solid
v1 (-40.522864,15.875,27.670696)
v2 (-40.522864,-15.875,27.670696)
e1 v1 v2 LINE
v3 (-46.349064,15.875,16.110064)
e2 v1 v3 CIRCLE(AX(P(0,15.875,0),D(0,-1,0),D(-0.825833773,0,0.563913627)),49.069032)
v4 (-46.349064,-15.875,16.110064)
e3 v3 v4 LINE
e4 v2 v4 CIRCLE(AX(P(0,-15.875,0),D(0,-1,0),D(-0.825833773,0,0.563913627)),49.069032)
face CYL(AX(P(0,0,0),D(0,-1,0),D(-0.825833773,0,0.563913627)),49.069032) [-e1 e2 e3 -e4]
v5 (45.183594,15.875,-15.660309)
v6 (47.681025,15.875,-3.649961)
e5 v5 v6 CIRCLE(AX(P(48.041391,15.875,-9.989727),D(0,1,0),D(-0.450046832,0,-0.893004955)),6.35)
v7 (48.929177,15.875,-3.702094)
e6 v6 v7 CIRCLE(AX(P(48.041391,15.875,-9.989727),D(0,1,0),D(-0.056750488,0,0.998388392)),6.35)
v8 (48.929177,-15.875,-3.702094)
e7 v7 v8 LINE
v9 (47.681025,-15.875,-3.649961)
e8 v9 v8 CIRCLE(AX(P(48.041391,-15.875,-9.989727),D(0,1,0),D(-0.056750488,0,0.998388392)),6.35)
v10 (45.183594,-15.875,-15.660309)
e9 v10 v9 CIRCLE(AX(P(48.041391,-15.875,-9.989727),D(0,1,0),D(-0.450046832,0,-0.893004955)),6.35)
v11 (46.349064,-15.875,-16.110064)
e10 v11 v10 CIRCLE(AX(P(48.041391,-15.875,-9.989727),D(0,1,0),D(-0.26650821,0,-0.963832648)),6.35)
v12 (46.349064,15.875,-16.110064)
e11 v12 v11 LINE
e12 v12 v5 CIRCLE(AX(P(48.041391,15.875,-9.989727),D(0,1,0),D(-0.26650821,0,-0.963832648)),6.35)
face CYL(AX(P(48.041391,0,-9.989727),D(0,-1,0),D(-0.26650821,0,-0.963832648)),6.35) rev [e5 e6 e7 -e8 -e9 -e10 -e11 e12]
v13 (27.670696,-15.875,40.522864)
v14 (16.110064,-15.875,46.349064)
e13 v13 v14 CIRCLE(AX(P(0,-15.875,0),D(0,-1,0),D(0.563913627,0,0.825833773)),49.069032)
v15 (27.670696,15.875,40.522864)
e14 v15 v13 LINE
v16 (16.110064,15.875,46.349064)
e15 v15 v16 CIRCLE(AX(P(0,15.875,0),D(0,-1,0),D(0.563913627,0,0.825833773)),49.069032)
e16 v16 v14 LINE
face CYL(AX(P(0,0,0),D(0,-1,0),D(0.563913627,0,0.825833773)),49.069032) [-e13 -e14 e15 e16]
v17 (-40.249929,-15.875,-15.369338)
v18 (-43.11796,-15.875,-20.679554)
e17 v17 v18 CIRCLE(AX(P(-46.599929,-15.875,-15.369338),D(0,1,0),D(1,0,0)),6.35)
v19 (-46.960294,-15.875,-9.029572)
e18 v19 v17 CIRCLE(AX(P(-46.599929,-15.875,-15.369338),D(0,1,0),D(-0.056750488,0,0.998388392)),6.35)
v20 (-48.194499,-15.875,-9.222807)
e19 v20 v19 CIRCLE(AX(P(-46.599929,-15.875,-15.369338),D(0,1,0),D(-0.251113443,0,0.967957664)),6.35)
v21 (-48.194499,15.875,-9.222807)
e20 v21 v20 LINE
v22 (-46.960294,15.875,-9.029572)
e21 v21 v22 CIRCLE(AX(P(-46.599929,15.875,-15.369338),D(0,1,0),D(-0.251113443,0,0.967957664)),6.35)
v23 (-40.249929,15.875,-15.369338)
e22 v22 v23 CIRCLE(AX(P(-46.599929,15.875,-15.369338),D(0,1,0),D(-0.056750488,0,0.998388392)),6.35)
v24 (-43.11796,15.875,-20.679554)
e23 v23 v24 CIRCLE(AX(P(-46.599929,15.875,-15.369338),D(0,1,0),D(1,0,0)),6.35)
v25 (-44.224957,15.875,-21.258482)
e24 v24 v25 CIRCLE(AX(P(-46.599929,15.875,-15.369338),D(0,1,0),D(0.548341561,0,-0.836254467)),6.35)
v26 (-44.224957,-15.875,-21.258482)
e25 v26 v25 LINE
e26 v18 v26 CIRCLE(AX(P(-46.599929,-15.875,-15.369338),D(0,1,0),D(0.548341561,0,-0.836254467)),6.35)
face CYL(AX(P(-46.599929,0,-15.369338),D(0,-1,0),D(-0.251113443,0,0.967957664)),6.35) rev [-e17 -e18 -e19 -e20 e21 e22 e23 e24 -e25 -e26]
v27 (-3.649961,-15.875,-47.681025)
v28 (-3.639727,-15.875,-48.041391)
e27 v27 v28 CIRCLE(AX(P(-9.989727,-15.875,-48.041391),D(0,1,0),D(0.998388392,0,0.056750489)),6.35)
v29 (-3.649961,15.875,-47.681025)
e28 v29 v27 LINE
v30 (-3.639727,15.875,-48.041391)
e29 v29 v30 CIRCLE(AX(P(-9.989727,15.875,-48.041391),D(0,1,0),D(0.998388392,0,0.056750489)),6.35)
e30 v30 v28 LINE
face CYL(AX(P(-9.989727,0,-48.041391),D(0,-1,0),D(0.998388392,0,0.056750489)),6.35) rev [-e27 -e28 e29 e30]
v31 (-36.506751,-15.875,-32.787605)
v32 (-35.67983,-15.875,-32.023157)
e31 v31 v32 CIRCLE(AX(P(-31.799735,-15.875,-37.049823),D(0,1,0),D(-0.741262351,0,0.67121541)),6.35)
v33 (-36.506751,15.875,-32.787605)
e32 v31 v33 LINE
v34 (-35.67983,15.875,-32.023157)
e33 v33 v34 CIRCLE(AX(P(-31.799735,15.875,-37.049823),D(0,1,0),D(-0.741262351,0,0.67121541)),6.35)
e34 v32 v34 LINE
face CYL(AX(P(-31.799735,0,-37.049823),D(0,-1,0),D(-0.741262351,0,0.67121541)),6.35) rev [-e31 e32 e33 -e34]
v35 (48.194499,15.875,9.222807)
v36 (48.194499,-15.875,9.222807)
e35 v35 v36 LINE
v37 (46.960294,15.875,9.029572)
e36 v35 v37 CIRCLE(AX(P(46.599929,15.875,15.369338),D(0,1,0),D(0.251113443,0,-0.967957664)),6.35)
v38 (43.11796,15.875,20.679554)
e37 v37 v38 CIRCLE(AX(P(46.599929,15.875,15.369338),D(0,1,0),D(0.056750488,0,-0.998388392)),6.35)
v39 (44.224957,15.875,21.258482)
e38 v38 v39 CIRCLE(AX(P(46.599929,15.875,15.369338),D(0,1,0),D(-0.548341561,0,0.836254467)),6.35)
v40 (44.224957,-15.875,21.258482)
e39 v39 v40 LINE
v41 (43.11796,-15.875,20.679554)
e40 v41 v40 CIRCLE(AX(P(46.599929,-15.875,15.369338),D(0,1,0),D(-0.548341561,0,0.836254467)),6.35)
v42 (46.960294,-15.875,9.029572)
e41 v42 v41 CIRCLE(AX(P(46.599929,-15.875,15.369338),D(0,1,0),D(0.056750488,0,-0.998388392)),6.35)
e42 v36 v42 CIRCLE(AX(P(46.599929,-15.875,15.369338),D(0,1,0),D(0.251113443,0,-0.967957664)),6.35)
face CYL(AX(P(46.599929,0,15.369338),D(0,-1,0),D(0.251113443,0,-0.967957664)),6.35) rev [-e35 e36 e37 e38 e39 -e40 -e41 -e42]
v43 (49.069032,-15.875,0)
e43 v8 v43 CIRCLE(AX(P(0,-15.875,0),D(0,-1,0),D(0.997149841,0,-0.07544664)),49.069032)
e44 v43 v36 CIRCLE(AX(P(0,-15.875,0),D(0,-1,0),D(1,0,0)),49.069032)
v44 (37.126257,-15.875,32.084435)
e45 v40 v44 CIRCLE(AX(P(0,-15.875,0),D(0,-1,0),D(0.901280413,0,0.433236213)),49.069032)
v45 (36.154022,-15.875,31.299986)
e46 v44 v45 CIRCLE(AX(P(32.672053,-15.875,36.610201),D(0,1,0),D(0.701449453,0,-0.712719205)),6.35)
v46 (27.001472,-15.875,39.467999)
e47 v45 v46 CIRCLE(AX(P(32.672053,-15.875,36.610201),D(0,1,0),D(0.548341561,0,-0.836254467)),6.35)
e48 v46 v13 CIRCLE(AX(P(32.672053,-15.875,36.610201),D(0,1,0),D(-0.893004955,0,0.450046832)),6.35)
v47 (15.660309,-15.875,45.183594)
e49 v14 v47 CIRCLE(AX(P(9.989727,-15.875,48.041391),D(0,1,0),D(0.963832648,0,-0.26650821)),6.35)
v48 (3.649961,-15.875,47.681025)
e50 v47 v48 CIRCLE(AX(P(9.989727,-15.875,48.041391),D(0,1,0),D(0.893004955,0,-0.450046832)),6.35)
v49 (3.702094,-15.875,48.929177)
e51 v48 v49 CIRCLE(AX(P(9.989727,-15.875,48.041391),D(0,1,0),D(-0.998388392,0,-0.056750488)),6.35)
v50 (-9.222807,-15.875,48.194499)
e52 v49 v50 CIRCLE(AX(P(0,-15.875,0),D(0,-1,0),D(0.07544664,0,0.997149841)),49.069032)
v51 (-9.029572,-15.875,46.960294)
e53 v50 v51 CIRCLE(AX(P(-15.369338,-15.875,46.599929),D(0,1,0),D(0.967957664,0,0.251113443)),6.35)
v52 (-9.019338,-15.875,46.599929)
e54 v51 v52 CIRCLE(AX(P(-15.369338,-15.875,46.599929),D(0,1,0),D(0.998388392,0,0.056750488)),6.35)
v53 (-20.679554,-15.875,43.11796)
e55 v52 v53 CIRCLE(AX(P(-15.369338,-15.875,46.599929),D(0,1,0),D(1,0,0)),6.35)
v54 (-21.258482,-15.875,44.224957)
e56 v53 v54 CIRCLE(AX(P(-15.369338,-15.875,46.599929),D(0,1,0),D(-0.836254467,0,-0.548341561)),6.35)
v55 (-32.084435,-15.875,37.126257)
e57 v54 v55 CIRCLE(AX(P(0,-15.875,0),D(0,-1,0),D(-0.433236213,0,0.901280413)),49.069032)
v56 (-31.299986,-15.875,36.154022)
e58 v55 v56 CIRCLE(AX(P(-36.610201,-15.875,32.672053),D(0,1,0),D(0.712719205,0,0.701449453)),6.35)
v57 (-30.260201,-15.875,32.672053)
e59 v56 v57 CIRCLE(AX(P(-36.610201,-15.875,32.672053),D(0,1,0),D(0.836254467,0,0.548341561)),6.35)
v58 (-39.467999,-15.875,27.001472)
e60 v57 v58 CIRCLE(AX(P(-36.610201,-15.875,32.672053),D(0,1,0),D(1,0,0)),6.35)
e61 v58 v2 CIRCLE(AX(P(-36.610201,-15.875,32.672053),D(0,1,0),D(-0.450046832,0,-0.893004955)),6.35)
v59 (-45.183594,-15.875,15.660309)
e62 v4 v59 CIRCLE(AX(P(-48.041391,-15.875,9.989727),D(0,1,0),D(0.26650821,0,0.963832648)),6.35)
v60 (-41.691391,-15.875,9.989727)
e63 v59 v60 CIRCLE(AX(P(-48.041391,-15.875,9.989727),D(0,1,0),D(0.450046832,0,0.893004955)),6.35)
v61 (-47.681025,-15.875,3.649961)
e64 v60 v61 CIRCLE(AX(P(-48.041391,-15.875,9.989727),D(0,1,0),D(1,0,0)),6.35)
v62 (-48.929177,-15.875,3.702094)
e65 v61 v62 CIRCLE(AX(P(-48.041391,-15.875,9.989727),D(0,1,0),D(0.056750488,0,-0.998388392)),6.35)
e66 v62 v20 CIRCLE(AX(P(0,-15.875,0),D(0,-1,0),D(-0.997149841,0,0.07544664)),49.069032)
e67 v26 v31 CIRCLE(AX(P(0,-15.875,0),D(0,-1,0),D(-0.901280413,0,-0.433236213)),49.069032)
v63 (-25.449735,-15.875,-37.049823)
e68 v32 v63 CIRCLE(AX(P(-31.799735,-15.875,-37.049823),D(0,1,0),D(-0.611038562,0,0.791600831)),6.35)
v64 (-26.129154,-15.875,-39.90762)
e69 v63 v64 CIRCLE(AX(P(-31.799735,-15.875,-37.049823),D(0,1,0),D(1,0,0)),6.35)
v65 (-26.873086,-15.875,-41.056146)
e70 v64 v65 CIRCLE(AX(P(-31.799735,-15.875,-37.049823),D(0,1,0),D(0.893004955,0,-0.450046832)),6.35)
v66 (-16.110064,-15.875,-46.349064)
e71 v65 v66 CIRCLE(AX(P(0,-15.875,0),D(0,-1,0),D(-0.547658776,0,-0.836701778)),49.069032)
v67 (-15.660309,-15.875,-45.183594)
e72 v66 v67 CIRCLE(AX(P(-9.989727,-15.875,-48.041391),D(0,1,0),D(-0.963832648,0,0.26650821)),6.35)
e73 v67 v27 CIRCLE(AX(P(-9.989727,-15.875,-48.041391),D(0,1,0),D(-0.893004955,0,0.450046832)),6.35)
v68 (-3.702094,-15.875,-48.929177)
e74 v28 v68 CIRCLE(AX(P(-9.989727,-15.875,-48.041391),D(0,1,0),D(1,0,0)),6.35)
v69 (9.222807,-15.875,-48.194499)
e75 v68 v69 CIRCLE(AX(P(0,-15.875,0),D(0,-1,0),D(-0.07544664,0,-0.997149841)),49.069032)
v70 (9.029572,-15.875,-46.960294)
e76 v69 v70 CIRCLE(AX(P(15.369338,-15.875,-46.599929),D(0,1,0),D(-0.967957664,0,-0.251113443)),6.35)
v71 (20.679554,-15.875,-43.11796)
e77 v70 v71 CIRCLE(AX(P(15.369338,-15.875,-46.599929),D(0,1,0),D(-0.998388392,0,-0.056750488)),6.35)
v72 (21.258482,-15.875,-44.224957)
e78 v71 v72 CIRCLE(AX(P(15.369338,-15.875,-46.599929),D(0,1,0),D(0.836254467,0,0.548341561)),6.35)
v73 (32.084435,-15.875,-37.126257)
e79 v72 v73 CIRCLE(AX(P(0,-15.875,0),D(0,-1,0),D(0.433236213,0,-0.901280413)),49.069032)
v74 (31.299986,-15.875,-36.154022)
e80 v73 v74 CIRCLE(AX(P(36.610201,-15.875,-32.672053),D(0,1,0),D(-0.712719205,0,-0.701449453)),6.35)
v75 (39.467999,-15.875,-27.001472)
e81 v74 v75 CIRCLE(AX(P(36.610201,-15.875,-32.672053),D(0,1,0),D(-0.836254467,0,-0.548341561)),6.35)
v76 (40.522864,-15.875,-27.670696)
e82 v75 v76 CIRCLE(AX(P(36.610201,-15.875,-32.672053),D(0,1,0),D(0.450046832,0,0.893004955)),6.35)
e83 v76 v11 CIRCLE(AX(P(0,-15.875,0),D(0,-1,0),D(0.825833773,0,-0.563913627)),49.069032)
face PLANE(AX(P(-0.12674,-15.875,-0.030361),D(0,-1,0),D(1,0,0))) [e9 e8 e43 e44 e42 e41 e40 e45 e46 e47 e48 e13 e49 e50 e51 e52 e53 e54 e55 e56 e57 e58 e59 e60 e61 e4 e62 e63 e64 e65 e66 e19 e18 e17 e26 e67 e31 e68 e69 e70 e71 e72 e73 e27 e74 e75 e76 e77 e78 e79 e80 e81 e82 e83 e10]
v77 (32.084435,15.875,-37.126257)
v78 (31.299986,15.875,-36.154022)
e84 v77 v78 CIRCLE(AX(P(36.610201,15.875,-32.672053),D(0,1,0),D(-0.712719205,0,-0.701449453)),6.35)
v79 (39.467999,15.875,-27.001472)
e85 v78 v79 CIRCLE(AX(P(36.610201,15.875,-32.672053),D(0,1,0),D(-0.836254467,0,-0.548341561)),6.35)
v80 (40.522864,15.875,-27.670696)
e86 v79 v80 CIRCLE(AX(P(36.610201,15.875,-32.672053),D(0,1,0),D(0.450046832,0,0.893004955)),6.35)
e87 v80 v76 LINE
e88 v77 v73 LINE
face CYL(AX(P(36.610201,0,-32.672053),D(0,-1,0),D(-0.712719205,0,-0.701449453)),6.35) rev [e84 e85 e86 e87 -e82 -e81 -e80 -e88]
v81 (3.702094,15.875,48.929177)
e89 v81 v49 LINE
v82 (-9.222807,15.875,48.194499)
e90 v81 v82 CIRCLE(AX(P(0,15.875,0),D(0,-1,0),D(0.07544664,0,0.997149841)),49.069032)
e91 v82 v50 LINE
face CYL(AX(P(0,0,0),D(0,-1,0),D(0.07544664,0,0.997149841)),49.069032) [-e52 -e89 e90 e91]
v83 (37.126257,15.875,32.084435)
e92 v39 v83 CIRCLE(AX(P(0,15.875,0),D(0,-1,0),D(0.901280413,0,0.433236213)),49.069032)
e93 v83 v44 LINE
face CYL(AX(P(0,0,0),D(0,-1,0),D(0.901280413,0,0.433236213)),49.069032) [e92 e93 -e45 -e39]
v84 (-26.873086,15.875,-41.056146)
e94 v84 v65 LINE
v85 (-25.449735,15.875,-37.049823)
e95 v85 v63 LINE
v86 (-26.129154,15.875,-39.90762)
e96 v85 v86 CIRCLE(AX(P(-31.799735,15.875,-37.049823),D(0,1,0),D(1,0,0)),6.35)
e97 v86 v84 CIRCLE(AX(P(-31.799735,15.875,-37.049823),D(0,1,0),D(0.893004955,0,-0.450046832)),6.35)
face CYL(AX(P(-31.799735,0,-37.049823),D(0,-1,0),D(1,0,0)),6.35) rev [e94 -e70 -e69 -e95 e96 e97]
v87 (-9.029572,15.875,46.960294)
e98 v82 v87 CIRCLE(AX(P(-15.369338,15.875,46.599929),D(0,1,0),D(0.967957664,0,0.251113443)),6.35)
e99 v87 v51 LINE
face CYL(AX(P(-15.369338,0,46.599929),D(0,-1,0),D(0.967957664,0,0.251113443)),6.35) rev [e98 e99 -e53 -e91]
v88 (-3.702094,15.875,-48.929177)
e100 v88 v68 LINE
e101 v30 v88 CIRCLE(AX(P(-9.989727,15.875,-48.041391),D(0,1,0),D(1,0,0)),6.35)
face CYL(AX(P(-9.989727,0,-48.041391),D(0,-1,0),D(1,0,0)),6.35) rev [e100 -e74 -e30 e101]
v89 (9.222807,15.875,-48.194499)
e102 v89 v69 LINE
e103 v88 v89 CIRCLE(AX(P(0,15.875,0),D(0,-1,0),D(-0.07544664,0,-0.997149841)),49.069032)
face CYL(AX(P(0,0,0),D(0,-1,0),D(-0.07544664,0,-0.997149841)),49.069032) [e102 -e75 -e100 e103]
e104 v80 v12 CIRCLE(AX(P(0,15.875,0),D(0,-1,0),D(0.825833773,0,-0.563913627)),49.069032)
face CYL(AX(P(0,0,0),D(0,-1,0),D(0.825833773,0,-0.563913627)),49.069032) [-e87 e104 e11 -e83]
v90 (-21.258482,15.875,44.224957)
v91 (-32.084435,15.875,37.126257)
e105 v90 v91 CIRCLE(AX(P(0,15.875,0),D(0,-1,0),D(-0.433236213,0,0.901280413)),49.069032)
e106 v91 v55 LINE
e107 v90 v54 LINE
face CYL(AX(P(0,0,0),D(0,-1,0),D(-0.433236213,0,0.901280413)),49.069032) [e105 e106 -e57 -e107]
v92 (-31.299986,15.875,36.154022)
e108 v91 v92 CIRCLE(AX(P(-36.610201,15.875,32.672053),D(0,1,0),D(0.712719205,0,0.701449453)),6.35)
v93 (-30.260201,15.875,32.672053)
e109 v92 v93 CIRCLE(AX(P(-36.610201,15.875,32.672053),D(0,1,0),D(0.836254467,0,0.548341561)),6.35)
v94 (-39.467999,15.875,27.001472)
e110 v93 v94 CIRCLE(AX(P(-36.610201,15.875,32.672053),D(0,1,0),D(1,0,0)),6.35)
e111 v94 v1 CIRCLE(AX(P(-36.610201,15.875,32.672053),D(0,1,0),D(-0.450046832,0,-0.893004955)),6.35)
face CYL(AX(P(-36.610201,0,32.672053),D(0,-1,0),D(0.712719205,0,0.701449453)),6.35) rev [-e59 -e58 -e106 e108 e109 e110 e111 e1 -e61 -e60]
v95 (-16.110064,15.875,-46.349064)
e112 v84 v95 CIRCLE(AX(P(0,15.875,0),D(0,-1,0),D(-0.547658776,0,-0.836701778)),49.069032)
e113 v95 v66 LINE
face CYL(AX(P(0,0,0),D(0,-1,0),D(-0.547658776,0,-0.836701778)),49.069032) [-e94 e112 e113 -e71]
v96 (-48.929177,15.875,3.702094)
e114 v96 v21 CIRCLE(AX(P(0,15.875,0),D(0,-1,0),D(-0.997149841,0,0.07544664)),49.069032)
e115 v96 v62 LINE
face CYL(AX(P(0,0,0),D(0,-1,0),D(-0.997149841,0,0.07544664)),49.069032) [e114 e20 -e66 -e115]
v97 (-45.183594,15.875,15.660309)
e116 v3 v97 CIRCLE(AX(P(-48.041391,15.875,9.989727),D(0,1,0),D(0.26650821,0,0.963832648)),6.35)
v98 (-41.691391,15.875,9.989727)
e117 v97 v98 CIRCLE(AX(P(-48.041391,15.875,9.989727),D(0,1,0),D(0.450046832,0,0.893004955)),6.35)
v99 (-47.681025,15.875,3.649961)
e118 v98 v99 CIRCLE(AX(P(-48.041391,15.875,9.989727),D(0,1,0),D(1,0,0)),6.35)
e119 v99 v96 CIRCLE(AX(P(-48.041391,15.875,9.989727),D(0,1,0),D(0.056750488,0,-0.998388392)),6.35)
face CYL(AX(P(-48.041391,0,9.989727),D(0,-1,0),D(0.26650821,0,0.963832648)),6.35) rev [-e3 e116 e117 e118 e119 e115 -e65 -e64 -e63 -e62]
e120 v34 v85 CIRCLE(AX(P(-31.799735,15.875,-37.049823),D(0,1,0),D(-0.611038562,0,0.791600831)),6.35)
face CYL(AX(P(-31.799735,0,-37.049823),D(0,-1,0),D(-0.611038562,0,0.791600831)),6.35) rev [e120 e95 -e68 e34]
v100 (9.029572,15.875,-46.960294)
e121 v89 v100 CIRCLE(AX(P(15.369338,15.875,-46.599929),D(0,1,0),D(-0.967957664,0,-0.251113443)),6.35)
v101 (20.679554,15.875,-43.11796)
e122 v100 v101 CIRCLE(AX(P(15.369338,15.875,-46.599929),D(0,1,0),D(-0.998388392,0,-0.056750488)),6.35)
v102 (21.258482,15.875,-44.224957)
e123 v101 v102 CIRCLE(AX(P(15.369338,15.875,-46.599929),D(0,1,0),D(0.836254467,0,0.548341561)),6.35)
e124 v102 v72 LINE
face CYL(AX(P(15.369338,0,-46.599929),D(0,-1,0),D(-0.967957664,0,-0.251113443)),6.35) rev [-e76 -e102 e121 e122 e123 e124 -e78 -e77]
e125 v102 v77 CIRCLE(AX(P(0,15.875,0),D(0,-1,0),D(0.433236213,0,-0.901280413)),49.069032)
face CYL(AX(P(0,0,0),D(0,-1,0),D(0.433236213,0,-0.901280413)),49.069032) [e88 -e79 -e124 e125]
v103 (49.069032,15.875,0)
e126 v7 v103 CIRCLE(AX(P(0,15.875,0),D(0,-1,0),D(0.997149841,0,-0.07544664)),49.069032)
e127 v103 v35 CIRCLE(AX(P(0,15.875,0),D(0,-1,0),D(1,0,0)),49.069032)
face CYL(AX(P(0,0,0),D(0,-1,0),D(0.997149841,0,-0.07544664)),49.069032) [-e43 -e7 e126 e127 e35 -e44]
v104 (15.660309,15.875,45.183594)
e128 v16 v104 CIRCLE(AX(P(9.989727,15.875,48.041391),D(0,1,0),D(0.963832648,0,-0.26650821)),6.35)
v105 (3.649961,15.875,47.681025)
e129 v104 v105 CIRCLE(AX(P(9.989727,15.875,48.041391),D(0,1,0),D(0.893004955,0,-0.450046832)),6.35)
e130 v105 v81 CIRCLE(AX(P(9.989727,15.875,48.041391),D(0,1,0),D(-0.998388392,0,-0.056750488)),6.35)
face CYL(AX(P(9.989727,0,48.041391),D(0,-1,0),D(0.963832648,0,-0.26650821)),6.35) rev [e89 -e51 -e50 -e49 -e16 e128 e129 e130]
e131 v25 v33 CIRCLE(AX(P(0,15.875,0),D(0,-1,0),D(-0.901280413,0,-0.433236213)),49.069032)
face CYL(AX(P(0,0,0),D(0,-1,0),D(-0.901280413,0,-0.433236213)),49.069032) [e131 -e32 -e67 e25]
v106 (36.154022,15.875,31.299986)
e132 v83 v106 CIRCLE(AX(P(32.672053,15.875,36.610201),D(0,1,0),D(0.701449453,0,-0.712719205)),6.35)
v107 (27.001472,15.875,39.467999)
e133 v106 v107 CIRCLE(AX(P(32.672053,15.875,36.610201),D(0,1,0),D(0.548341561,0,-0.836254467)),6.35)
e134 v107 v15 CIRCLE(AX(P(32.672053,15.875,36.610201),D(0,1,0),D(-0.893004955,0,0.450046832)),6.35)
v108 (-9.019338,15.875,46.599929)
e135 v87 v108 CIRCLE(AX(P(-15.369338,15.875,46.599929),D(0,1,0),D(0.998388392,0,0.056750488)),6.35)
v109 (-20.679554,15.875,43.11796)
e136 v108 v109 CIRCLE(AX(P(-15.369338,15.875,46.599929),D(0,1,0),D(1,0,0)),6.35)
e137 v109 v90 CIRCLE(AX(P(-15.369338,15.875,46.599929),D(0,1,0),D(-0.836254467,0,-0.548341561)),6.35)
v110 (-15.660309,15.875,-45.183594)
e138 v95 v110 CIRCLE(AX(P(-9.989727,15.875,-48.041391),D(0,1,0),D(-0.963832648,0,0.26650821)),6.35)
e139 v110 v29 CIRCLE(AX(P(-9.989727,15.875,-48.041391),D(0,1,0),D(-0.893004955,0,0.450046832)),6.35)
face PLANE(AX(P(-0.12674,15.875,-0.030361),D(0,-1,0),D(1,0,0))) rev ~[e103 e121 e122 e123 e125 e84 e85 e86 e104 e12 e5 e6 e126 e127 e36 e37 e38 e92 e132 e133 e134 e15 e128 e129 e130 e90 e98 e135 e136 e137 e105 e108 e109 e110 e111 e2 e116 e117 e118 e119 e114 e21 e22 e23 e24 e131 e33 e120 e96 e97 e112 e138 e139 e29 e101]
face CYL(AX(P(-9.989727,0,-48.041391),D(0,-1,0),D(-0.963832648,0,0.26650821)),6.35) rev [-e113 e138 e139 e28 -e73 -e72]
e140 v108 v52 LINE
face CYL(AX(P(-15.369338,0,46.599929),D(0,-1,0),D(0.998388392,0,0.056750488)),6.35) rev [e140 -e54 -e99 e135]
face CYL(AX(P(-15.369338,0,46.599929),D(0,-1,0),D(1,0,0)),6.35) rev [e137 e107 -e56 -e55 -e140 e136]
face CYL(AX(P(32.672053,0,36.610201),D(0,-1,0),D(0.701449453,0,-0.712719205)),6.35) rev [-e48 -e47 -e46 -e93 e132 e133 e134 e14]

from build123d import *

# Parameters (mm, degrees)
F1_DEPTH = 15.875


with BuildPart() as f1:
    # F0 (on Front) → F1 (new body, symmetric)
    with BuildSketch(Plane.XZ):
        with BuildLine():
            Line((-43.1179597079, -20.6795539033), (-35.6798299226, -32.0231574202))
            ThreePointArc((-35.6798299226, -32.0231574202), (-28.999387078, -31.3506516016), (-25.4497350562, -37.0498226993))
            ThreePointArc((-25.4497350562, -37.0498226993), (-25.6219242672, -38.5185479478), (-26.1291535934, -39.9076200809))
            Line((-26.1291535934, -39.9076200809), (-15.6603085893, -45.1835936364))
            ThreePointArc((-15.6603085893, -45.1835936364), (-8.6969613087, -41.8243775437), (-3.6499608348, -47.681025418))
            Line((-3.6499608348, -47.681025418), (9.0295717487, -46.960294218))
            ThreePointArc((9.0295717487, -46.960294218), (13.3803993428, -40.5694541047), (20.6795539033, -43.1179597079))
            Line((20.6795539033, -43.1179597079), (31.2999856287, -36.1540218876))
            ThreePointArc((31.2999856287, -36.1540218876), (31.872492796, -28.4439782009), (39.4679988731, -27.0014715148))
            Line((39.4679988731, -27.0014715148), (45.1835936364, -15.6603085893))
            ThreePointArc((45.1835936364, -15.6603085893), (41.8243775437, -8.6969613087), (47.681025418, -3.6499608348))
            Line((47.681025418, -3.6499608348), (46.960294218, 9.0295717487))
            ThreePointArc((46.960294218, 9.0295717487), (40.5694541047, 13.3803993428), (43.1179597079, 20.6795539033))
            Line((43.1179597079, 20.6795539033), (36.1540218876, 31.2999856287))
            ThreePointArc((36.1540218876, 31.2999856287), (28.4439782009, 31.872492796), (27.0014715148, 39.4679988731))
            Line((27.0014715148, 39.4679988731), (15.6603085893, 45.1835936364))
            ThreePointArc((15.6603085893, 45.1835936364), (8.6969613087, 41.8243775437), (3.6499608348, 47.681025418))
            Line((3.6499608348, 47.681025418), (-9.0295717487, 46.960294218))
            ThreePointArc((-9.0295717487, 46.960294218), (-9.0218969832, 46.7801840579), (-9.0193380405, 46.599928618))
            ThreePointArc((-9.0193380405, 46.599928618), (-13.5523860225, 40.5154249107), (-20.6795539033, 43.1179597079))
            Line((-20.6795539033, 43.1179597079), (-31.2999856287, 36.1540218876))
            ThreePointArc((-31.2999856287, 36.1540218876), (-30.5256977842, 34.4890049955), (-30.2602014915, 32.6720529775))
            ThreePointArc((-30.2602014915, 32.6720529775), (-33.2803751727, 27.2651354928), (-39.4679988731, 27.0014715148))
            Line((-39.4679988731, 27.0014715148), (-45.1835936364, 15.6603085893))
            ThreePointArc((-45.1835936364, 15.6603085893), (-42.6344735333, 13.3195534454), (-41.691391018, 9.9897271266))
            ThreePointArc((-41.691391018, 9.9897271266), (-43.4256125593, 5.6288683556), (-47.681025418, 3.6499608348))
            Line((-47.681025418, 3.6499608348), (-46.960294218, -9.0295717487))
            ThreePointArc((-46.960294218, -9.0295717487), (-42.2390698471, -10.7535595818), (-40.249928618, -15.3693380405))
            ThreePointArc((-40.249928618, -15.3693380405), (-41.0127556934, -18.3869527791), (-43.1179597079, -20.6795539033))
        make_face()
        with BuildLine():
            ThreePointArc((-40.5228638212, 27.6706958124), (-43.8188886794, 22.0833623778), (-46.3490638812, 16.1100644426))
            ThreePointArc((-46.3490638812, 16.1100644426), (-45.7552417742, 15.9139166606), (-45.1835936364, 15.6603085893))
            Line((-45.1835936364, 15.6603085893), (-39.4679988731, 27.0014715148))
            ThreePointArc((-39.4679988731, 27.0014715148), (-40.0119284743, 27.3100800632), (-40.5228638212, 27.6706958124))
        make_face()
        with BuildLine():
            ThreePointArc((-21.2584815971, 44.2249574245), (-26.9065895731, 41.0341971599), (-32.0844345415, 37.1262570045))
            ThreePointArc((-32.0844345415, 37.1262570045), (-31.6682434024, 36.6594769889), (-31.2999856287, 36.1540218876))
            Line((-31.2999856287, 36.1540218876), (-20.6795539033, 43.1179597079))
            ThreePointArc((-20.6795539033, 43.1179597079), (-20.9963064816, 43.6571873513), (-21.2584815971, 44.2249574245))
        make_face()
        with BuildLine():
            ThreePointArc((3.7020936033, 48.9291774094), (-2.7846915195, 48.9899519509), (-9.2228068767, 48.1944989841))
            ThreePointArc((-9.2228068767, 48.1944989841), (-9.0957647853, 47.582160063), (-9.0295717487, 46.960294218))
            Line((-9.0295717487, 46.960294218), (3.6499608348, 47.681025418))
            ThreePointArc((3.6499608348, 47.681025418), (3.6452588769, 48.3063865448), (3.7020936033, 48.9291774094))
        make_face()
        with BuildLine():
            ThreePointArc((16.1100644426, 46.3490638812), (15.9139166606, 45.7552417742), (15.6603085893, 45.1835936364))
            Line((15.6603085893, 45.1835936364), (27.0014715148, 39.4679988731))
            ThreePointArc((27.0014715148, 39.4679988731), (27.3100800632, 40.0119284743), (27.6706958124, 40.5228638212))
            ThreePointArc((27.6706958124, 40.5228638212), (22.0833623778, 43.8188886794), (16.1100644426, 46.3490638812))
        make_face()
        with BuildLine():
            Line((36.1540218876, 31.2999856287), (43.1179597079, 20.6795539033))
            ThreePointArc((43.1179597079, 20.6795539033), (43.6571873513, 20.9963064816), (44.2249574245, 21.2584815971))
            ThreePointArc((44.2249574245, 21.2584815971), (41.0341971599, 26.9065895731), (37.1262570045, 32.0844345415))
            ThreePointArc((37.1262570045, 32.0844345415), (36.6594769889, 31.6682434024), (36.1540218876, 31.2999856287))
        make_face()
        with BuildLine():
            Line((46.960294218, 9.0295717487), (47.681025418, -3.6499608348))
            ThreePointArc((47.681025418, -3.6499608348), (48.3063865448, -3.6452588769), (48.9291774094, -3.7020936033))
            ThreePointArc((48.9291774094, -3.7020936033), (49.0340558686, -1.8523671577), (49.0690319755, 0))
            ThreePointArc((49.0690319755, 0), (48.8499094713, 4.6320884771), (48.1944989841, 9.2228068767))
            ThreePointArc((48.1944989841, 9.2228068767), (47.582160063, 9.0957647853), (46.960294218, 9.0295717487))
        make_face()
        with BuildLine():
            Line((45.1835936364, -15.6603085893), (39.4679988731, -27.0014715148))
            ThreePointArc((39.4679988731, -27.0014715148), (40.0119284743, -27.3100800632), (40.5228638212, -27.6706958124))
            ThreePointArc((40.5228638212, -27.6706958124), (43.8188886794, -22.0833623778), (46.3490638812, -16.1100644426))
            ThreePointArc((46.3490638812, -16.1100644426), (45.7552417742, -15.9139166606), (45.1835936364, -15.6603085893))
        make_face()
        with BuildLine():
            Line((31.2999856287, -36.1540218876), (20.6795539033, -43.1179597079))
            ThreePointArc((20.6795539033, -43.1179597079), (20.9963064816, -43.6571873513), (21.2584815971, -44.2249574245))
            ThreePointArc((21.2584815971, -44.2249574245), (26.9065895731, -41.0341971599), (32.0844345415, -37.1262570045))
            ThreePointArc((32.0844345415, -37.1262570045), (31.6682434024, -36.6594769889), (31.2999856287, -36.1540218876))
        make_face()
        with BuildLine():
            Line((9.0295717487, -46.960294218), (-3.6499608348, -47.681025418))
            ThreePointArc((-3.6499608348, -47.681025418), (-3.6422860692, -47.8611355781), (-3.6397271266, -48.041391018))
            ThreePointArc((-3.6397271266, -48.041391018), (-3.6553379345, -48.4863781679), (-3.7020936033, -48.9291774094))
            ThreePointArc((-3.7020936033, -48.9291774094), (2.7846915195, -48.9899519509), (9.2228068767, -48.1944989841))
            ThreePointArc((9.2228068767, -48.1944989841), (9.0957647853, -47.582160063), (9.0295717487, -46.960294218))
        make_face()
        with BuildLine():
            Line((-15.6603085893, -45.1835936364), (-26.1291535934, -39.9076200809))
            ThreePointArc((-26.1291535934, -39.9076200809), (-26.47009136, -40.501981165), (-26.8730859737, -41.0561463031))
            ThreePointArc((-26.8730859737, -41.0561463031), (-21.6539037832, -44.0326963739), (-16.1100644426, -46.3490638812))
            ThreePointArc((-16.1100644426, -46.3490638812), (-15.9139166606, -45.7552417742), (-15.6603085893, -45.1835936364))
        make_face()
        with BuildLine():
            ThreePointArc((-36.5067509859, -32.7876048449), (-36.1102701648, -32.3870137736), (-35.6798299226, -32.0231574202))
            Line((-35.6798299226, -32.0231574202), (-43.1179597079, -20.6795539033))
            ThreePointArc((-43.1179597079, -20.6795539033), (-43.6571873513, -20.9963064816), (-44.2249574245, -21.2584815971))
            ThreePointArc((-44.2249574245, -21.2584815971), (-40.7753891021, -27.2972075968), (-36.5067509859, -32.7876048449))
        make_face()
        with BuildLine():
            ThreePointArc((-48.9291774094, 3.7020936033), (-48.9899519509, -2.7846915195), (-48.1944989841, -9.2228068767))
            ThreePointArc((-48.1944989841, -9.2228068767), (-47.582160063, -9.0957647853), (-46.960294218, -9.0295717487))
            Line((-46.960294218, -9.0295717487), (-47.681025418, 3.6499608348))
            ThreePointArc((-47.681025418, 3.6499608348), (-48.3063865448, 3.6452588769), (-48.9291774094, 3.7020936033))
        make_face()
    extrude(amount=F1_DEPTH, both=True)


solid = f1.part
